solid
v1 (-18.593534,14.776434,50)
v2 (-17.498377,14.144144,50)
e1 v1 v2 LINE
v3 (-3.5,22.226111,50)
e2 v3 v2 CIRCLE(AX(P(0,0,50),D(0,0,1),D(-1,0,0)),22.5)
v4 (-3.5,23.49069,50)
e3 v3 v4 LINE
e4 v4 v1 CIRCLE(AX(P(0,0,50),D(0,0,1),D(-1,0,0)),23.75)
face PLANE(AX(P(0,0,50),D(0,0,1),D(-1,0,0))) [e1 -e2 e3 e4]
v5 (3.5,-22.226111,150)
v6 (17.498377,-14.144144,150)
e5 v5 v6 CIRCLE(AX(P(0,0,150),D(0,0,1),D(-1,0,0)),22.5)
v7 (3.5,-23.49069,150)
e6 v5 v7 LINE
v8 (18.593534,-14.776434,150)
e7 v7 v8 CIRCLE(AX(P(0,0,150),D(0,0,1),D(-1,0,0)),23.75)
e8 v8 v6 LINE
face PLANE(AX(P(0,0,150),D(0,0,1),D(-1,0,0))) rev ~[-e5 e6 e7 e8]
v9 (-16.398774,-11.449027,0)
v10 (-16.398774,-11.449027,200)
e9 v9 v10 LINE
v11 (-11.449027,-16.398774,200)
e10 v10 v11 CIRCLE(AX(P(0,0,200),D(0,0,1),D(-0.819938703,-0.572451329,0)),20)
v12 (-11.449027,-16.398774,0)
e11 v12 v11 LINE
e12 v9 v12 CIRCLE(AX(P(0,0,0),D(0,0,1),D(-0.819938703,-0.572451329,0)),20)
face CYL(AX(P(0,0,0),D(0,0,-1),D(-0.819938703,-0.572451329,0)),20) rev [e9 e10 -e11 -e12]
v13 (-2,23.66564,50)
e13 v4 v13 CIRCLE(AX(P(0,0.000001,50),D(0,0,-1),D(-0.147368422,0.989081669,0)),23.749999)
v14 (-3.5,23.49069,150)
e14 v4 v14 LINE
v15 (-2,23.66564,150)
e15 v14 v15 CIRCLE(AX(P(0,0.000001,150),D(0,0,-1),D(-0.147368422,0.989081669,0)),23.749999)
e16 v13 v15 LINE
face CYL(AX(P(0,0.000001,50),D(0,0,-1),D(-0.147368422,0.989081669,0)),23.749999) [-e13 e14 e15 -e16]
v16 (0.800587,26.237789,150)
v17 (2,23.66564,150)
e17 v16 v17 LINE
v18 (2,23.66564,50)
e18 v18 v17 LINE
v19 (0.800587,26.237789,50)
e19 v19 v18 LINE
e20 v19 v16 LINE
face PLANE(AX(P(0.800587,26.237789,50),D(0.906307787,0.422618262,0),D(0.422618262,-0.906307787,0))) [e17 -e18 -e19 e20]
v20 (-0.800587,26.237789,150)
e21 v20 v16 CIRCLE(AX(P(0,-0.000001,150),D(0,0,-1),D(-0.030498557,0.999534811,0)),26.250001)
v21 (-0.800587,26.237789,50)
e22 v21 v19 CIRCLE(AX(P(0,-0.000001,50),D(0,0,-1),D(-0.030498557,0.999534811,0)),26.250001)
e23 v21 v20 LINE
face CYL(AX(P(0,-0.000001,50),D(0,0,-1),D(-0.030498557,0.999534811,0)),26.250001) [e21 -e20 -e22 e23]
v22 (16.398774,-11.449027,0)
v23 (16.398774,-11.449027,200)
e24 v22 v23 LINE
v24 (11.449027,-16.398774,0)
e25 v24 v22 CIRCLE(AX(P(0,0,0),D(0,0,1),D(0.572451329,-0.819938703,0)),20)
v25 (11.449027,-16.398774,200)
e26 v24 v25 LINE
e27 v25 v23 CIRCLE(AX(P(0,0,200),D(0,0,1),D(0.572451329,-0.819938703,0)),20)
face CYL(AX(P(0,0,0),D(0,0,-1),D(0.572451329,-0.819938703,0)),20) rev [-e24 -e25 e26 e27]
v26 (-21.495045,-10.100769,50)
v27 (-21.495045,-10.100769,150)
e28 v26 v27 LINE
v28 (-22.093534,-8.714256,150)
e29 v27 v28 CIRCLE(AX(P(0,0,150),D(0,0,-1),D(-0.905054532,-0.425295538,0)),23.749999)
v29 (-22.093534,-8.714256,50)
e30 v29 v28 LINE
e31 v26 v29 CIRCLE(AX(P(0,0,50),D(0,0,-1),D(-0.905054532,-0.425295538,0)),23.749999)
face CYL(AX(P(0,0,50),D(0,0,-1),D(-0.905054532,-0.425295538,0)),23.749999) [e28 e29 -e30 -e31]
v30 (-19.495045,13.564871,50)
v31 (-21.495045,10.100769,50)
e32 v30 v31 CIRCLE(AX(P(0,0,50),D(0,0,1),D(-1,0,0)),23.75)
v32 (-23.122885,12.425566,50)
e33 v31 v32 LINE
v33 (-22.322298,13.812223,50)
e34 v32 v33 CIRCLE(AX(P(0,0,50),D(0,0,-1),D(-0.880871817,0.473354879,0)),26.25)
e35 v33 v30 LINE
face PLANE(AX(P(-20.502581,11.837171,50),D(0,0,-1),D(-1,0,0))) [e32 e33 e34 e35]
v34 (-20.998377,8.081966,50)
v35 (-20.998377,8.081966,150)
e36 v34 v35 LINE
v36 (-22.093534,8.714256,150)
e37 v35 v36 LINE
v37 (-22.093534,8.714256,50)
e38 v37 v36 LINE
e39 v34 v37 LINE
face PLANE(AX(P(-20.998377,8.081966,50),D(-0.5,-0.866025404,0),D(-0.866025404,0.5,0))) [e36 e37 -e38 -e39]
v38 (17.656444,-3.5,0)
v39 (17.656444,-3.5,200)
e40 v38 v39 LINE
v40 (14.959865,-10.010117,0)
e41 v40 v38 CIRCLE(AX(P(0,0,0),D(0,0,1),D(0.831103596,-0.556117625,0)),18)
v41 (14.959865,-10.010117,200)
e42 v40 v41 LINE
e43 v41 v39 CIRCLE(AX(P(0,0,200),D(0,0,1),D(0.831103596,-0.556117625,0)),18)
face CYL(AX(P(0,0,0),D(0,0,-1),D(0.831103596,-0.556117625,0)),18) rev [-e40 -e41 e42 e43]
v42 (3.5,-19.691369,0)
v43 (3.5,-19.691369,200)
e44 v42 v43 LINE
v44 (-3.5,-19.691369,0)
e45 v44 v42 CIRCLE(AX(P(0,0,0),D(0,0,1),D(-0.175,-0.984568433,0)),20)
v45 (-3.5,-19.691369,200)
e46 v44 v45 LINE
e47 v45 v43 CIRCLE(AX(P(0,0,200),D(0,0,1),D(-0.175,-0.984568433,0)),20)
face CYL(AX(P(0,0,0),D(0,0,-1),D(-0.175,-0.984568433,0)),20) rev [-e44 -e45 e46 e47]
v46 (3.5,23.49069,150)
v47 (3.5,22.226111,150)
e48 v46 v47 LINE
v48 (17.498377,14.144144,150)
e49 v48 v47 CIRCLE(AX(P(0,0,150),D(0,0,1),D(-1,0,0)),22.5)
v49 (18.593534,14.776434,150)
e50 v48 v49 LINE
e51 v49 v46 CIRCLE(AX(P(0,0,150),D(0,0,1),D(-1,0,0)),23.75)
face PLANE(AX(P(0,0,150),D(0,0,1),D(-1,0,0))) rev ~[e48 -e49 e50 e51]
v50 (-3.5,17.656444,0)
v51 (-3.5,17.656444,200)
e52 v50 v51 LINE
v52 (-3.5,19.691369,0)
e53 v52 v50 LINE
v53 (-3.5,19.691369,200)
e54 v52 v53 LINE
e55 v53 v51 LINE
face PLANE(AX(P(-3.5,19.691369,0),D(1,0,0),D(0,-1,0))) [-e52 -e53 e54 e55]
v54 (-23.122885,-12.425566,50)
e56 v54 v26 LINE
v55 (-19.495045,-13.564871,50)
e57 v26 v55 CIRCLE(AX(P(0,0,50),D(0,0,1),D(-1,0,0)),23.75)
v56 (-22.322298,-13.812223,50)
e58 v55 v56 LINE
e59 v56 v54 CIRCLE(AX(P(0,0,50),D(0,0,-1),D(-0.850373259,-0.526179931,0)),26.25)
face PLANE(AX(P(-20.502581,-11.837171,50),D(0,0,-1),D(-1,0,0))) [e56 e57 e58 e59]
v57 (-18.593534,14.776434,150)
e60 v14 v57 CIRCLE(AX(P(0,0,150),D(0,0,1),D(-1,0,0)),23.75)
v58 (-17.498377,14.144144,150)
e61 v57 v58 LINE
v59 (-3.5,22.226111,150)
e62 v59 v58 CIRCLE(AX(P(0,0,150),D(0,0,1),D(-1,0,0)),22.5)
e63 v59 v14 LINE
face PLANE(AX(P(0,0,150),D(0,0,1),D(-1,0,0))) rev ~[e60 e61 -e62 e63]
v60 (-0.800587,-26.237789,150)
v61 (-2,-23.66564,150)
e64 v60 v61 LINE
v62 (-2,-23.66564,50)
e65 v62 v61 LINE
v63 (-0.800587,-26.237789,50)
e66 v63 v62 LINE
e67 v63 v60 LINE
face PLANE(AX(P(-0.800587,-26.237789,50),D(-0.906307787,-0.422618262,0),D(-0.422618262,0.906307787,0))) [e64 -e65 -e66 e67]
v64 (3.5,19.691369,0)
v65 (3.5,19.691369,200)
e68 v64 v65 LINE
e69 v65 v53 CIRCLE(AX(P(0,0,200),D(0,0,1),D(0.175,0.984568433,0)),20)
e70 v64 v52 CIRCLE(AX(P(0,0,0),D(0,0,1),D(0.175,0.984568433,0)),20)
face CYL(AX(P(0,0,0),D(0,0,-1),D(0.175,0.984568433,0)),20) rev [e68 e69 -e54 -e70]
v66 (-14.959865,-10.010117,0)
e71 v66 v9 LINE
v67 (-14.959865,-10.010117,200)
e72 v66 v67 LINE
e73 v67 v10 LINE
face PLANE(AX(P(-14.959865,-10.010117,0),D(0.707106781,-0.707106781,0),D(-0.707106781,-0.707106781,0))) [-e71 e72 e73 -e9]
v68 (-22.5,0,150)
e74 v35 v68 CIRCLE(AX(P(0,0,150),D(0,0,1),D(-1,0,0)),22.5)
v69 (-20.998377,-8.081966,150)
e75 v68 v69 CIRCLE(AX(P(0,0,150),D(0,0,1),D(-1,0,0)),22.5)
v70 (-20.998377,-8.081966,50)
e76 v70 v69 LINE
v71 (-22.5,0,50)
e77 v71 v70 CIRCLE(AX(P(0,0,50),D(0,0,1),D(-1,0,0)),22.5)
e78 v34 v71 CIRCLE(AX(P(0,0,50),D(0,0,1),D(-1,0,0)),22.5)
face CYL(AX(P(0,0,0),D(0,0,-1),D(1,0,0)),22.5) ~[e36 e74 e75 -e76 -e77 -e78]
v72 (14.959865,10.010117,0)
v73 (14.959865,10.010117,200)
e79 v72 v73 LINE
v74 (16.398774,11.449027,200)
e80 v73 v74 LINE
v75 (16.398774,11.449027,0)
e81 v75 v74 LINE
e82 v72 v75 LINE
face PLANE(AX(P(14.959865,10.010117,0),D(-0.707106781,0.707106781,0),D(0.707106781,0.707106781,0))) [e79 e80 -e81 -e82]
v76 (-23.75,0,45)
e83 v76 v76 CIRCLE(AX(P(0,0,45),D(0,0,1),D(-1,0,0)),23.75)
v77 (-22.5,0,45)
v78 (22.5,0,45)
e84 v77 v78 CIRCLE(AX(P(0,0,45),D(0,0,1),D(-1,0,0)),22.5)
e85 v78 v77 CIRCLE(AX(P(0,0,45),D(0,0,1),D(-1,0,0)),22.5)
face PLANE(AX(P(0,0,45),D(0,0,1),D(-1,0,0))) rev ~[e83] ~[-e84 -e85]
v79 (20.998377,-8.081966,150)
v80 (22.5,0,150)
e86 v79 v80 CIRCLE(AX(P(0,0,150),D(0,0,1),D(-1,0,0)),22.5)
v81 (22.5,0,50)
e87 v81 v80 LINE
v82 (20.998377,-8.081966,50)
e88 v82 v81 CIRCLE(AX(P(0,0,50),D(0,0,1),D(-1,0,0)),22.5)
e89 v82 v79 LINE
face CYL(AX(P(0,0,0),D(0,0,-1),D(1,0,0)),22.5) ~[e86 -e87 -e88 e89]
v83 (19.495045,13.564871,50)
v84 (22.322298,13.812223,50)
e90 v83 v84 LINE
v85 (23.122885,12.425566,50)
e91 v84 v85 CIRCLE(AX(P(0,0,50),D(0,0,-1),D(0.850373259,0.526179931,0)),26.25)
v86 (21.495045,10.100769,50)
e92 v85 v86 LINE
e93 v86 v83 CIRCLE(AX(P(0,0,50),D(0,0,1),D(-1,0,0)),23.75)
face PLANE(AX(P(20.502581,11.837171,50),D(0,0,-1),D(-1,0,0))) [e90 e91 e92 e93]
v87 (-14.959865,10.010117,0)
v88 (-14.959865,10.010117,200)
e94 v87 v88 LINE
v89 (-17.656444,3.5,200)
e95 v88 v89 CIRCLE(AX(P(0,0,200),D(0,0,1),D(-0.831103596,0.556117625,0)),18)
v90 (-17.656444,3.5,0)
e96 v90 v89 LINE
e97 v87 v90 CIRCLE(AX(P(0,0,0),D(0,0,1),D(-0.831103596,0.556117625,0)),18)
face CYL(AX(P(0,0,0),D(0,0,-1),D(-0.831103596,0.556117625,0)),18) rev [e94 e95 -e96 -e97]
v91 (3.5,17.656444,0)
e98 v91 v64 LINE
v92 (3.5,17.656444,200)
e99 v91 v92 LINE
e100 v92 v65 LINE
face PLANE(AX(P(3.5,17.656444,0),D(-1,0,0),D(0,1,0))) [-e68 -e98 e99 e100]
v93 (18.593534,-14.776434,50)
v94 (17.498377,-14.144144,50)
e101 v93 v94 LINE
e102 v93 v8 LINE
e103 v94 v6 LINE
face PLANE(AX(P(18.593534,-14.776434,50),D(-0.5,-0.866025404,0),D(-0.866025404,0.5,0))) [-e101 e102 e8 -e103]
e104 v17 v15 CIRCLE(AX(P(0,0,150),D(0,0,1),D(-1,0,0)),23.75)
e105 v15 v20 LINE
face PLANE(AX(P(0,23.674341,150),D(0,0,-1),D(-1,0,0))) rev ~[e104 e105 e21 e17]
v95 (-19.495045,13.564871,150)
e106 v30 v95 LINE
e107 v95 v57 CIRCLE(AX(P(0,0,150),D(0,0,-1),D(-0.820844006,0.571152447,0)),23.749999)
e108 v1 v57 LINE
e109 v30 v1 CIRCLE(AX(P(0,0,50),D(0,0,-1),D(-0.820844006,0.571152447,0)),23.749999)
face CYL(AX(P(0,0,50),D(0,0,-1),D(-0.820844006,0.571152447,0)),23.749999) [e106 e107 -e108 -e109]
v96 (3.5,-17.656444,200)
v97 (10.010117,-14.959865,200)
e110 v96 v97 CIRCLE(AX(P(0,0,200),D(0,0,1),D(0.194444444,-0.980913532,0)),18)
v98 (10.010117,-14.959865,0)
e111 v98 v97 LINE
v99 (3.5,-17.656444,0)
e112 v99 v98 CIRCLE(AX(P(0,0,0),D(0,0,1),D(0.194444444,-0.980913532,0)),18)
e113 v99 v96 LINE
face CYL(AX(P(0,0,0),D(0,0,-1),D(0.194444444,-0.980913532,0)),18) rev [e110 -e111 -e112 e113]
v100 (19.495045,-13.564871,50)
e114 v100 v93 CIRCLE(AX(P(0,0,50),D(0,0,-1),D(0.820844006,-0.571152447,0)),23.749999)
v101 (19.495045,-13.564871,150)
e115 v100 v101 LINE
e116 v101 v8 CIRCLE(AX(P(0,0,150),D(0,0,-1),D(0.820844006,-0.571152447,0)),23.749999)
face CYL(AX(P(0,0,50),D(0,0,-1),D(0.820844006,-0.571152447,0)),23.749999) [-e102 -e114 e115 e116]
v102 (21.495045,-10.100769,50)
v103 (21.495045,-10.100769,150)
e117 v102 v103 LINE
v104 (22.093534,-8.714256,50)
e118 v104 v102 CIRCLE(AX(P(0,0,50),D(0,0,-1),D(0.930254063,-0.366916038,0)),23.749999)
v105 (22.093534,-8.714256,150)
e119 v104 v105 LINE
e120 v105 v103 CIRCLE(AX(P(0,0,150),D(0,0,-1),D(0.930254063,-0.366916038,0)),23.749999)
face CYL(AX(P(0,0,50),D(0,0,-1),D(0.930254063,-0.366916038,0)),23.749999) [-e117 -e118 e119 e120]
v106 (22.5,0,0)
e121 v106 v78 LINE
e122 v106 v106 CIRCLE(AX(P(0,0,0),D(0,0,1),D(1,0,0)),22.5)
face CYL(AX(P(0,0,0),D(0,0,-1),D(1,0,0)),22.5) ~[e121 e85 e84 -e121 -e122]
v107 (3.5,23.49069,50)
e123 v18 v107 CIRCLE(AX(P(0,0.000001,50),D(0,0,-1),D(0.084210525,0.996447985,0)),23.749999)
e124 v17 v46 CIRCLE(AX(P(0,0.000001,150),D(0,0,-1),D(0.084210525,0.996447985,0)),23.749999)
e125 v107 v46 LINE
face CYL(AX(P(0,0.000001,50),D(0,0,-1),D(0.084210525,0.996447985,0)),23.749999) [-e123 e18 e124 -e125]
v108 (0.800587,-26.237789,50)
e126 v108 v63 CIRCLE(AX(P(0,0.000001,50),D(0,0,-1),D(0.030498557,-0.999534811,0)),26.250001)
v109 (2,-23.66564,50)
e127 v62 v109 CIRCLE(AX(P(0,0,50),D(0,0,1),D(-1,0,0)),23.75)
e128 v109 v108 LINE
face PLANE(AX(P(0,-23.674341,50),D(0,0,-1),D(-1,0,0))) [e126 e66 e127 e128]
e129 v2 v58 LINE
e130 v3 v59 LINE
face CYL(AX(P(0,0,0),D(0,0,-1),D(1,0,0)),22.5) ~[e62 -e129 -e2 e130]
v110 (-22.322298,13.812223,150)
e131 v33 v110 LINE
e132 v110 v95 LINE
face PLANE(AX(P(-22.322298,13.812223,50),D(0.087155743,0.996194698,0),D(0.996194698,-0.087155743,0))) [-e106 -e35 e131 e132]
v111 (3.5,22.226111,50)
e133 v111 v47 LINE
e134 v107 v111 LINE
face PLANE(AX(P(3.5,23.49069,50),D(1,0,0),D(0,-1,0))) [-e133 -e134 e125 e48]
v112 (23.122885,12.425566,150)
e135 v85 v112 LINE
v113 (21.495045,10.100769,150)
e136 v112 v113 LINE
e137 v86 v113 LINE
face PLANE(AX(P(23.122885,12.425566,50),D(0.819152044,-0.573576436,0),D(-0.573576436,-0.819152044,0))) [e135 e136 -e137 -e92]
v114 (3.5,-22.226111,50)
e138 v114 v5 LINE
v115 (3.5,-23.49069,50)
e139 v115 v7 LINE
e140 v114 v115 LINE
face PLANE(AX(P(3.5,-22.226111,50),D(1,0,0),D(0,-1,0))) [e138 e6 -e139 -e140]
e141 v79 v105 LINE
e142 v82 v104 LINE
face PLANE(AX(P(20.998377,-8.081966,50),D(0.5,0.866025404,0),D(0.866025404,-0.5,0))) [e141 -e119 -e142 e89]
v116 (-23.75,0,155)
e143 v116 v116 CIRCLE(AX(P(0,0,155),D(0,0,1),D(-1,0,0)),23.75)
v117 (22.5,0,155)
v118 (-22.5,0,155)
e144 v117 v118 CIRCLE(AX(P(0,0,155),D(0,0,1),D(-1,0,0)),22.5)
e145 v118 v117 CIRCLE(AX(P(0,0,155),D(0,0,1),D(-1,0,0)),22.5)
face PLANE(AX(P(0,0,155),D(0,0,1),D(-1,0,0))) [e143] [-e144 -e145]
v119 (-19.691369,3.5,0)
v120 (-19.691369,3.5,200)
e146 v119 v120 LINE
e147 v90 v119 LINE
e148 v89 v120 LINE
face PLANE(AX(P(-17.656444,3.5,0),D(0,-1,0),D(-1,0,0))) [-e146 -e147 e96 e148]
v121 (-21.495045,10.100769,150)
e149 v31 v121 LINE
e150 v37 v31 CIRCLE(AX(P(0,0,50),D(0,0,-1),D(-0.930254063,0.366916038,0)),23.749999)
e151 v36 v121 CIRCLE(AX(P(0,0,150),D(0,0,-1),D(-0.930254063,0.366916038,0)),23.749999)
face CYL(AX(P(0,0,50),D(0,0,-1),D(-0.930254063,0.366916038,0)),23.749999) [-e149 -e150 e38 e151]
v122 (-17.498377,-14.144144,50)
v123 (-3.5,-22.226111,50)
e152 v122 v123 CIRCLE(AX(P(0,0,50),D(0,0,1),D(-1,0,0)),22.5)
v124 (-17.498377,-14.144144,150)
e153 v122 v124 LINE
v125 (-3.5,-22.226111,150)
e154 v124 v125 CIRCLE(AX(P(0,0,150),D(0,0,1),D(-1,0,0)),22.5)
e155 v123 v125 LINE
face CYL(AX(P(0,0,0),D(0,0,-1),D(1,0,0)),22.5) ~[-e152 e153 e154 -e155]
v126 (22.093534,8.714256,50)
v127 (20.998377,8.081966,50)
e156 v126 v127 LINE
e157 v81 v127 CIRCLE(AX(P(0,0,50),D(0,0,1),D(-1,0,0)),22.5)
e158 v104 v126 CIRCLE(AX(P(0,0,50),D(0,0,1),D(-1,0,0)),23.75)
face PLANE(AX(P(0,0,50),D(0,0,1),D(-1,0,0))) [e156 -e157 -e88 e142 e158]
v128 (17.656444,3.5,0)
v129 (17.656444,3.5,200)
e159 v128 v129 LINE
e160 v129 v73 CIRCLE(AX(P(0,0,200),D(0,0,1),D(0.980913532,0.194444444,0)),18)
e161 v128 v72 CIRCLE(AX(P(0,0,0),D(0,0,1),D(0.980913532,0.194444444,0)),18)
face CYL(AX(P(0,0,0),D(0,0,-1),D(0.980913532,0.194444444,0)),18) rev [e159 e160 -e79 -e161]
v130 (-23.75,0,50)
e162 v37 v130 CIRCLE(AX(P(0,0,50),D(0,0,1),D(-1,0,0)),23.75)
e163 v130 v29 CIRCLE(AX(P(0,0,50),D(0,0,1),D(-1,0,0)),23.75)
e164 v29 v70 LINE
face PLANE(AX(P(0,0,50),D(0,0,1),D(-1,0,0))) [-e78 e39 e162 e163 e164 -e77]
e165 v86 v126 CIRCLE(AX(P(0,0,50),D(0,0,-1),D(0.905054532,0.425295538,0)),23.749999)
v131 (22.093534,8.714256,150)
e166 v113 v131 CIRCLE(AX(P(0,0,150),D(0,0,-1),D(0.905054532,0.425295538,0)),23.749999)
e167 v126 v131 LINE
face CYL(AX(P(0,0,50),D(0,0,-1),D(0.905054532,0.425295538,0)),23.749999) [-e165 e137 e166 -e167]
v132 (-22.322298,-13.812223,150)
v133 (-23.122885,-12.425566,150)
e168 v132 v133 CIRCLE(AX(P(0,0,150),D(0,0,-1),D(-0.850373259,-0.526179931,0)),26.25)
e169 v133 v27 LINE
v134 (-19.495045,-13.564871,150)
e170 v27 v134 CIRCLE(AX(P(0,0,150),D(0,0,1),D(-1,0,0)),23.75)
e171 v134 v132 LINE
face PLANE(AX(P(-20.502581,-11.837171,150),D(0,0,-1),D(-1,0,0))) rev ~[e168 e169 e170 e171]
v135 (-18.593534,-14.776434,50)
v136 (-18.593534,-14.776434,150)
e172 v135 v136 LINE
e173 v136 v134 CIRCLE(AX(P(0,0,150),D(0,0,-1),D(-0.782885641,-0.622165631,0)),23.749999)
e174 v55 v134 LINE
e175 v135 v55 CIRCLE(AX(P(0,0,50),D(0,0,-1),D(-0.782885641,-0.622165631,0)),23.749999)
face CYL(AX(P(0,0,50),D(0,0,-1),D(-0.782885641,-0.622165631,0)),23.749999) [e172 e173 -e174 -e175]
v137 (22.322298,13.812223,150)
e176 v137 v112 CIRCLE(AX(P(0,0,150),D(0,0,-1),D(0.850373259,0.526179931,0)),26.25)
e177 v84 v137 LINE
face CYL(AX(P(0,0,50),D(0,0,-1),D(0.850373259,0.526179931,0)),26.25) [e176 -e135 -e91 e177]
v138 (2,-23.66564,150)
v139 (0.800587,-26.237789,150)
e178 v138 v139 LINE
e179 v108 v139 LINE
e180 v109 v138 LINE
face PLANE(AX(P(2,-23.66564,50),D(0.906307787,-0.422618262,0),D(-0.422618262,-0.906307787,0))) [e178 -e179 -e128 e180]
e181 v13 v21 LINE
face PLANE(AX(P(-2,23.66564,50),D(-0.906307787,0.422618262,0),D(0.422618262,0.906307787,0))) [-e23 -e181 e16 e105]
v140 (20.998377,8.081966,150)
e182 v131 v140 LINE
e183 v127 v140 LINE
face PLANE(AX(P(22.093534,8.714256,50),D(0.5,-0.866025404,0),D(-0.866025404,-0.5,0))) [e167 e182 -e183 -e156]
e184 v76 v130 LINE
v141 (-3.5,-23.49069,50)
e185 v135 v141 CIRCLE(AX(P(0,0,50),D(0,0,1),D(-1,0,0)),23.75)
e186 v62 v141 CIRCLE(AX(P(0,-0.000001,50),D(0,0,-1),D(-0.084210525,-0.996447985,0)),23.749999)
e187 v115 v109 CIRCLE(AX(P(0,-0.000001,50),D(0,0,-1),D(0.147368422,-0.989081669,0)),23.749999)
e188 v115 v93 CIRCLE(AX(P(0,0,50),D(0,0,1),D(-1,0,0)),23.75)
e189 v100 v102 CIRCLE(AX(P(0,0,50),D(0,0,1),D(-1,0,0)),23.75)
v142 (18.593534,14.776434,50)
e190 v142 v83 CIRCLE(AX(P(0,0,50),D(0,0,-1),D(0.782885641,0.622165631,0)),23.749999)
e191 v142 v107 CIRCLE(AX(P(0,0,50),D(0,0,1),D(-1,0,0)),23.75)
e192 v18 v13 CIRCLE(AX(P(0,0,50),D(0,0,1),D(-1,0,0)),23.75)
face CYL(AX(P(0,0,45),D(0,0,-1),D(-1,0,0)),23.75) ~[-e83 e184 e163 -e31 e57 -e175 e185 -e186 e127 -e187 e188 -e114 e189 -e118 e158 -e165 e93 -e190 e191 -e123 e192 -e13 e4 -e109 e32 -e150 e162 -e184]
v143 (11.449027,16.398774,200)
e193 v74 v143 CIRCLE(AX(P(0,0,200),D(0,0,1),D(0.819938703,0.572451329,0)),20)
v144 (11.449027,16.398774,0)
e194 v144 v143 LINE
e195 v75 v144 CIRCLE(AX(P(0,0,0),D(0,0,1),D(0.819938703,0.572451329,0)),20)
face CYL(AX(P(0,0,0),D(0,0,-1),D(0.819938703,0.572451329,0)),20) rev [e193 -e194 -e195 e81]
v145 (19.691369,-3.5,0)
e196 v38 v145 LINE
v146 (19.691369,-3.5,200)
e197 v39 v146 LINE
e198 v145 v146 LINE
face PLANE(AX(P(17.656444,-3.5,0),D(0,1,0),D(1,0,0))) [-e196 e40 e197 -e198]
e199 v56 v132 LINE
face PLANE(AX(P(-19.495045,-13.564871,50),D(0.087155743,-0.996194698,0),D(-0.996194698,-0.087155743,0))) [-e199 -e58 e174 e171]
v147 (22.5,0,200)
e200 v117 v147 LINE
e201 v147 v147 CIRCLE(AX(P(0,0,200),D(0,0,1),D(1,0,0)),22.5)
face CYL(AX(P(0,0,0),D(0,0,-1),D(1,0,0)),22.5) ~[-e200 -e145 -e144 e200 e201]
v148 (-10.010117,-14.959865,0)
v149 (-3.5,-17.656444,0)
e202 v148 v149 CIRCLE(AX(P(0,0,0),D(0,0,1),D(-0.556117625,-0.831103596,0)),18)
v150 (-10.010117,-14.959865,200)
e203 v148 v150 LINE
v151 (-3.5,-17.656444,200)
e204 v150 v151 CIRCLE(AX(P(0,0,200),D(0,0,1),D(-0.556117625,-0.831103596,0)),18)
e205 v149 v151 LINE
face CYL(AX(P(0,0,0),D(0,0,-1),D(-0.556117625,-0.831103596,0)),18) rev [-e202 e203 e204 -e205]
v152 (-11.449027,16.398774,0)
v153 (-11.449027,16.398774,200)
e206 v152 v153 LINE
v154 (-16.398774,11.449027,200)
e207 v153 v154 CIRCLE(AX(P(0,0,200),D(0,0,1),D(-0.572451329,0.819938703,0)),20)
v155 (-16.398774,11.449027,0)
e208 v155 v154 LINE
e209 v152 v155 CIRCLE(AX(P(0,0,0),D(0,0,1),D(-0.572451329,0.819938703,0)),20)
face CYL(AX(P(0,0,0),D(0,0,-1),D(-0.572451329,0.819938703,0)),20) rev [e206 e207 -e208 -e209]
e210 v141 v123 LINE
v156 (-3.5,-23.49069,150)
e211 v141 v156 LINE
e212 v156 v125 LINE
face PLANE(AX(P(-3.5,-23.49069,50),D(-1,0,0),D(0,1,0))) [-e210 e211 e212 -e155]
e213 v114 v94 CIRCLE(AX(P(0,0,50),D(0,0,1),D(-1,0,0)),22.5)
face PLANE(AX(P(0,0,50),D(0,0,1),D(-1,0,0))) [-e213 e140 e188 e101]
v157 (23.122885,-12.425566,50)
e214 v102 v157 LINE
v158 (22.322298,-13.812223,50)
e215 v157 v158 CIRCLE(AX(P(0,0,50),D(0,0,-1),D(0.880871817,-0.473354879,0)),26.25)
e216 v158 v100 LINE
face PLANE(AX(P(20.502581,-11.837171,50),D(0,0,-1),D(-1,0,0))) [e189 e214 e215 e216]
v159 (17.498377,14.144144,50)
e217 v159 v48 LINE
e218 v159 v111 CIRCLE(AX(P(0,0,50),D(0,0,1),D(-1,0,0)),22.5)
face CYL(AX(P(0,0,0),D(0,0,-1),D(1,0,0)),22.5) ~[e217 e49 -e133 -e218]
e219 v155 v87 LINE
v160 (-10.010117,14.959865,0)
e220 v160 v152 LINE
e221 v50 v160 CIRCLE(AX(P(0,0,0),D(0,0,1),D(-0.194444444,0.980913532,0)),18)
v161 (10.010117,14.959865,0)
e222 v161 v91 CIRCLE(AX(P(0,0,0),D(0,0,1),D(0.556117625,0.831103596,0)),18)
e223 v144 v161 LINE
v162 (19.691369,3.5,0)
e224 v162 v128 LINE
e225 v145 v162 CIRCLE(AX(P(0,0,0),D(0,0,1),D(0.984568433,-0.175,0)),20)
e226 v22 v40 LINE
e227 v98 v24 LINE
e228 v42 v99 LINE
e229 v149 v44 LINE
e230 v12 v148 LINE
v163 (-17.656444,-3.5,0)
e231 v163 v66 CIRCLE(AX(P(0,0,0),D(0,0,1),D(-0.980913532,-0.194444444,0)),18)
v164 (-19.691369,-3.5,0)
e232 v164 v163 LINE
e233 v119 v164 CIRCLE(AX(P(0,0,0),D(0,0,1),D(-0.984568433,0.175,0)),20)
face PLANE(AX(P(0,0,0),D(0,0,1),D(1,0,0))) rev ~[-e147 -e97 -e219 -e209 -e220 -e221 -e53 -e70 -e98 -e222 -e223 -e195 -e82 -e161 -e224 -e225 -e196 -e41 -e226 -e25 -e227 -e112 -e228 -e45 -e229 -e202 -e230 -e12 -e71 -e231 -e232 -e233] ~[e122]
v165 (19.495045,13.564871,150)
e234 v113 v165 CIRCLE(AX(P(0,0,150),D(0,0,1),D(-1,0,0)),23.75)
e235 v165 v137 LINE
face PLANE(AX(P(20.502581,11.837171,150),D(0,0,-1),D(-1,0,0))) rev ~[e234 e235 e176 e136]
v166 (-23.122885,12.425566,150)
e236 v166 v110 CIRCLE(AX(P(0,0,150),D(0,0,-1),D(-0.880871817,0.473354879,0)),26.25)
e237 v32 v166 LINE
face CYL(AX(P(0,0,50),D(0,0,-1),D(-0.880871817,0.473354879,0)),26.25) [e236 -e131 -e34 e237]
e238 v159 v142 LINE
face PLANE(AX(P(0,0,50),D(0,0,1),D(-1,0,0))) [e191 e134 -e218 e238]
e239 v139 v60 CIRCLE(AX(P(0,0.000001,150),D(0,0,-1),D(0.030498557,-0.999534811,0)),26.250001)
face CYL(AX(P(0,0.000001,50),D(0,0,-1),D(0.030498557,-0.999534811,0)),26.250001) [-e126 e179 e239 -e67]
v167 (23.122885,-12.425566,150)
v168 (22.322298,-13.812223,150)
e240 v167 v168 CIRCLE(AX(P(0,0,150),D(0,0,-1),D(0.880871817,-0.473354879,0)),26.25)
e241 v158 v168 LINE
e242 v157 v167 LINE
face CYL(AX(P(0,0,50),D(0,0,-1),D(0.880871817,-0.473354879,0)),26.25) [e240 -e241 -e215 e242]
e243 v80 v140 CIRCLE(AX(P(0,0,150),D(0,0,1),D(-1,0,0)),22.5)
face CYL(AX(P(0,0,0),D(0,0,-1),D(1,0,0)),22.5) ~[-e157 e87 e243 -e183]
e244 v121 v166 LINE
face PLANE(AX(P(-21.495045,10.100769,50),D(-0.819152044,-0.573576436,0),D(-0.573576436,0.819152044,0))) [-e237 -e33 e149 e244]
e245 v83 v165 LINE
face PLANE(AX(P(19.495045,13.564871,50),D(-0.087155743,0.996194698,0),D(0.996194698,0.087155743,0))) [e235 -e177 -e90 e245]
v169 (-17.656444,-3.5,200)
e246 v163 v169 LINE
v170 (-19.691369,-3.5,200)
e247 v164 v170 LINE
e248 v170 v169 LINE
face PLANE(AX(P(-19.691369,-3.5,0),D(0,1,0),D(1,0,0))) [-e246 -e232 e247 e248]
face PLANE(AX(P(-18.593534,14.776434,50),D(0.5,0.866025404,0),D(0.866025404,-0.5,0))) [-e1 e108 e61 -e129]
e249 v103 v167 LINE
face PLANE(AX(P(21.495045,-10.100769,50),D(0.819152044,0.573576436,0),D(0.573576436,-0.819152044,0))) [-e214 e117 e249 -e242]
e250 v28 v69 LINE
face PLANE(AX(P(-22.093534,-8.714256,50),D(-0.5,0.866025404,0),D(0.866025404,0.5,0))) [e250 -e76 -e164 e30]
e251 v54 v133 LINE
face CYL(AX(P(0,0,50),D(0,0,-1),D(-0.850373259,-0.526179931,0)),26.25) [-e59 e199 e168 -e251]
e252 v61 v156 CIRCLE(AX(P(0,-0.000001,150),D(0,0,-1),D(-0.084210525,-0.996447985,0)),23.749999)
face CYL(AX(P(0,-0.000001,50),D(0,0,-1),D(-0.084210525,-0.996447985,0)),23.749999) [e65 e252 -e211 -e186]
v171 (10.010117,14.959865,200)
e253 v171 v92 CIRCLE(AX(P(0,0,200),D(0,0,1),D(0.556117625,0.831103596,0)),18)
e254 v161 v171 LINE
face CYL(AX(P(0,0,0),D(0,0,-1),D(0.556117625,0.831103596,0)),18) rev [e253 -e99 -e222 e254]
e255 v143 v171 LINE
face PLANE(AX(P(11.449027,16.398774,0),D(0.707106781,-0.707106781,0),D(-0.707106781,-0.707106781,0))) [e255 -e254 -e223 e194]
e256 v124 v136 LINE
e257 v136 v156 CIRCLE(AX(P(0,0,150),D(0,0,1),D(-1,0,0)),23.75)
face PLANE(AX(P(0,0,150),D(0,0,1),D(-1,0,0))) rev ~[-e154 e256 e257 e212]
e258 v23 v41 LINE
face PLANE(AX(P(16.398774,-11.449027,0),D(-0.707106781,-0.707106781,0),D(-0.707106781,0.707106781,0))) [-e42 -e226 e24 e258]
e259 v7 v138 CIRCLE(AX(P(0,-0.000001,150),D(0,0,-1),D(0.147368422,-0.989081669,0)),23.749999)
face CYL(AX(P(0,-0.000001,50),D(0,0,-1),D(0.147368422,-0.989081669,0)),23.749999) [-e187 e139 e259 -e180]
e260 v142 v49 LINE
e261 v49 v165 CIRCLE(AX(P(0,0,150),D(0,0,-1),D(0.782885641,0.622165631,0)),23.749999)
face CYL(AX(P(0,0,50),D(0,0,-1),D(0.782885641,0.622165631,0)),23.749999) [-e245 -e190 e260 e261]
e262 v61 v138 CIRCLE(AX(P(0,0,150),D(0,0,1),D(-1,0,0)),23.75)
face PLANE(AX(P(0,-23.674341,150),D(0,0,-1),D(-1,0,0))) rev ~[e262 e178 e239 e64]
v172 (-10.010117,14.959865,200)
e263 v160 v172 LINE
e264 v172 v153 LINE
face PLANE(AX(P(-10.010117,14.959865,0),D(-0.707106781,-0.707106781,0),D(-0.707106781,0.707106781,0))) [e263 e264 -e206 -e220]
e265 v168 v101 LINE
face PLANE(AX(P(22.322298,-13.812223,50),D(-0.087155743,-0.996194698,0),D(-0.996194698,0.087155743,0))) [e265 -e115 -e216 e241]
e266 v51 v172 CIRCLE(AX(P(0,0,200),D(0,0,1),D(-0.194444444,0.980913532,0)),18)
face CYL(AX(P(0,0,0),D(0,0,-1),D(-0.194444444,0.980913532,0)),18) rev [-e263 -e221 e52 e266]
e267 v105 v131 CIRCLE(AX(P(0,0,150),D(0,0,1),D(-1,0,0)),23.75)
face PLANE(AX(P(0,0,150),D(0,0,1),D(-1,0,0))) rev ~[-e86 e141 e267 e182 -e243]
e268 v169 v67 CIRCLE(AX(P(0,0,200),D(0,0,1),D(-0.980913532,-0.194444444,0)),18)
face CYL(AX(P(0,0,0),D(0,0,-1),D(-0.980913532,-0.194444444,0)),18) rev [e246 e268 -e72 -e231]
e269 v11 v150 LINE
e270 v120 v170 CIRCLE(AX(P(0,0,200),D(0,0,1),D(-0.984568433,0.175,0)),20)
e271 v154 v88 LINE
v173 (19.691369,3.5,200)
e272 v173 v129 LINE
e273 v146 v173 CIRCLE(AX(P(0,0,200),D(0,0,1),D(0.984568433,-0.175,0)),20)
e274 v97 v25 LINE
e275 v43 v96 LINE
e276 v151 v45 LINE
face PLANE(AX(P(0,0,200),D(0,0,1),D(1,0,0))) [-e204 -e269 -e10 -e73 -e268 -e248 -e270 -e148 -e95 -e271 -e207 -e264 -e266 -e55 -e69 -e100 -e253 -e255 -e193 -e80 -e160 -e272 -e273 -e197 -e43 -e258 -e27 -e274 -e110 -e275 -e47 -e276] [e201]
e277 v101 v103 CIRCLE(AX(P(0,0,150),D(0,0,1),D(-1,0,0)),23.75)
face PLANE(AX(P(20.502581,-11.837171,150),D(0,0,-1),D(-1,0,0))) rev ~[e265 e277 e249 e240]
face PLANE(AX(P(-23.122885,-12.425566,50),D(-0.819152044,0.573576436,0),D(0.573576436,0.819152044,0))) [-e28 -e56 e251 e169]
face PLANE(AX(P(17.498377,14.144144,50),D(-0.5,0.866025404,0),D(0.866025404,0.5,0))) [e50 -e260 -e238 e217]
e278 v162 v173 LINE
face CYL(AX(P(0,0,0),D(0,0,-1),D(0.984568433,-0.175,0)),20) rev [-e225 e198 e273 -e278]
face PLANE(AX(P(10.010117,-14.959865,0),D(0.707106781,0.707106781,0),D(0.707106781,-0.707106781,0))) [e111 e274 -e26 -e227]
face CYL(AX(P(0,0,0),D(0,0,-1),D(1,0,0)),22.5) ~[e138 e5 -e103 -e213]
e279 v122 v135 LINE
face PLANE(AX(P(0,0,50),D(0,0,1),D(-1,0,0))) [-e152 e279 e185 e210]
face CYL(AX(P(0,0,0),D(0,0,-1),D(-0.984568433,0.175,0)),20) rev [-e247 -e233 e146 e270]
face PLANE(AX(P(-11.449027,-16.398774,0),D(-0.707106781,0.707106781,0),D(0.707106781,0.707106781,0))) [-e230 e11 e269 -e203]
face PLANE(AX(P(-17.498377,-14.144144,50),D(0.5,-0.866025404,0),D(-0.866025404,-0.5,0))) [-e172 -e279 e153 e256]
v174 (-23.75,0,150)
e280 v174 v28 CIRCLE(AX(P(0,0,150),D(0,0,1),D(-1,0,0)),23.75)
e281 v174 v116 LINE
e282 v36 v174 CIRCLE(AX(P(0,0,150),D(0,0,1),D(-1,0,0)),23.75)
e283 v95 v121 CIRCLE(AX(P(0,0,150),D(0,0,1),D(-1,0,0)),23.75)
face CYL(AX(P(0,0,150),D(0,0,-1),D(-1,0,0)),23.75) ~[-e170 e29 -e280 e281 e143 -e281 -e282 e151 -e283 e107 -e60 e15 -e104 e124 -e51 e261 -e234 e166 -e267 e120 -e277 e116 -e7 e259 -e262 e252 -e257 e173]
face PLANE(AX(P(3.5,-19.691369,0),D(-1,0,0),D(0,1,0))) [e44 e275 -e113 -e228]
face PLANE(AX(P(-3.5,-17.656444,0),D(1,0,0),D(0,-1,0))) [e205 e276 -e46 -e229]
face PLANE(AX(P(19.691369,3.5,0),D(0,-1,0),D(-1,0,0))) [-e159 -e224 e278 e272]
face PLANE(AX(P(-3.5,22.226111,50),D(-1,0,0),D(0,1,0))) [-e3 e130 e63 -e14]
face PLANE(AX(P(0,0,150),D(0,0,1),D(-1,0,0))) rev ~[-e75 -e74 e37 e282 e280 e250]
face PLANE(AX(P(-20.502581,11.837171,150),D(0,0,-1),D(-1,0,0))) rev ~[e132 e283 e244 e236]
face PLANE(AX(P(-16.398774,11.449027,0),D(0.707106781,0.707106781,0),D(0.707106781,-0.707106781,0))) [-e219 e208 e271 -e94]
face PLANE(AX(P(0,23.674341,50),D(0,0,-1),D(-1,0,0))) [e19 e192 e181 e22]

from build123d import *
from build123d.topology import SkipClean

# Parameters (mm, degrees)
SKETCH1_R           = 22.5
BOSS_EXTRUDE1_DEPTH = 200
BOSS_EXTRUDE2_START = 50
BOSS_EXTRUDE2_DEPTH = 100
BOSS_EXTRUDE3_START = -50
SKETCH4_R           = 23.75
SKETCH4_R_2         = 22.5
BOSS_EXTRUDE3_DEPTH = 5
BOSS_EXTRUDE4_START = -155
SKETCH4_2_R         = 23.75
SKETCH4_2_R_2       = 22.5
BOSS_EXTRUDE4_DEPTH = 5


with BuildPart() as part:
    # Sketch1 → Boss-Extrude1 (new body)
    with BuildSketch(Plane.XY):
        Circle(SKETCH1_R)
        with BuildLine():
            Line((-3.5, 19.691368668), (-3.5, 17.656443583))
            ThreePointArc((-3.5, 17.656443583), (-6.888301783, 16.629831585), (-10.010117255, 14.959864723))
            Line((-10.010117255, 14.959864723), (-11.449026581, 16.39877405))
            ThreePointArc((-11.449026581, 16.39877405), (-14.142135624, 14.142135624), (-16.39877405, 11.449026581))
            Line((-16.39877405, 11.449026581), (-14.959864723, 10.010117255))
            ThreePointArc((-14.959864723, 10.010117255), (-16.629831585, 6.888301783), (-17.656443583, 3.5))
            Line((-17.656443583, 3.5), (-19.691368668, 3.5))
            ThreePointArc((-19.691368668, 3.5), (-20, 0), (-19.691368668, -3.5))
            Line((-19.691368668, -3.5), (-17.656443583, -3.5))
            ThreePointArc((-17.656443583, -3.5), (-16.629831585, -6.888301783), (-14.959864723, -10.010117255))
            Line((-14.959864723, -10.010117255), (-16.39877405, -11.449026581))
            ThreePointArc((-16.39877405, -11.449026581), (-14.142135624, -14.142135624), (-11.449026581, -16.39877405))
            Line((-11.449026581, -16.39877405), (-10.010117255, -14.959864723))
            ThreePointArc((-10.010117255, -14.959864723), (-6.888301783, -16.629831585), (-3.5, -17.656443583))
            Line((-3.5, -17.656443583), (-3.5, -19.691368668))
            ThreePointArc((-3.5, -19.691368668), (0, -20), (3.5, -19.691368668))
            Line((3.5, -19.691368668), (3.5, -17.656443583))
            ThreePointArc((3.5, -17.656443583), (6.888301783, -16.629831585), (10.010117255, -14.959864723))
            Line((10.010117255, -14.959864723), (11.449026581, -16.39877405))
            ThreePointArc((11.449026581, -16.39877405), (14.142135624, -14.142135624), (16.39877405, -11.449026581))
            Line((16.39877405, -11.449026581), (14.959864723, -10.010117255))
            ThreePointArc((14.959864723, -10.010117255), (16.629831585, -6.888301783), (17.656443583, -3.5))
            Line((17.656443583, -3.5), (19.691368668, -3.5))
            ThreePointArc((19.691368668, -3.5), (20, 0), (19.691368668, 3.5))
            Line((19.691368668, 3.5), (17.656443583, 3.5))
            ThreePointArc((17.656443583, 3.5), (16.629831585, 6.888301783), (14.959864723, 10.010117255))
            Line((14.959864723, 10.010117255), (16.39877405, 11.449026581))
            ThreePointArc((16.39877405, 11.449026581), (14.142135624, 14.142135624), (11.449026581, 16.39877405))
            Line((11.449026581, 16.39877405), (10.010117255, 14.959864723))
            ThreePointArc((10.010117255, 14.959864723), (6.888301783, 16.629831585), (3.5, 17.656443583))
            Line((3.5, 17.656443583), (3.5, 19.691368668))
            ThreePointArc((3.5, 19.691368668), (0, 20), (-3.5, 19.691368668))
        make_face(mode=Mode.SUBTRACT)
    extrude(amount=BOSS_EXTRUDE1_DEPTH)

    # Sketch3 → Boss-Extrude2 (add)
    with BuildSketch(Plane.XY.offset(BOSS_EXTRUDE2_START)):
        with BuildLine():
            Line((-2, 23.665639649), (-0.800587161, 26.237788783))
            ThreePointArc((-0.800587161, 26.237788783), (0, 26.25), (0.800587161, 26.237788783))
            Line((0.800587161, 26.237788783), (2, 23.665639649))
            ThreePointArc((2, 23.665639649), (2.751390898, 23.590090041), (3.5, 23.490689645))
            Line((3.5, 23.490689645), (3.5, 22.226110771))
            ThreePointArc((3.5, 22.226110771), (0, 22.5), (-3.5, 22.226110771))
            Line((-3.5, 22.226110771), (-3.5, 23.490689645))
            ThreePointArc((-3.5, 23.490689645), (-2.751390898, 23.590090041), (-2, 23.665639649))
        make_face()
        with BuildLine():
            Line((17.498376555, 14.144144299), (18.593533985, 14.776433736))
            ThreePointArc((18.593533985, 14.776433736), (19.053921804, 14.177819434), (19.495045133, 13.564870632))
            Line((19.495045133, 13.564870632), (22.322298044, 13.812223211))
            ThreePointArc((22.322298044, 13.812223211), (22.733166849, 13.125), (23.122885205, 12.425565572))
            Line((23.122885205, 12.425565572), (21.495045133, 10.100769017))
            ThreePointArc((21.495045133, 10.100769017), (21.805312702, 9.412270607), (22.093533985, 8.714255909))
            Line((22.093533985, 8.714255909), (20.998376555, 8.081966472))
            ThreePointArc((20.998376555, 8.081966472), (19.485571585, 11.25), (17.498376555, 14.144144299))
        make_face()
        with BuildLine():
            Line((20.998376555, -8.081966472), (22.093533985, -8.714255909))
            ThreePointArc((22.093533985, -8.714255909), (21.805312702, -9.412270607), (21.495045133, -10.100769017))
            Line((21.495045133, -10.100769017), (23.122885205, -12.425565572))
            ThreePointArc((23.122885205, -12.425565572), (22.733166849, -13.125), (22.322298044, -13.812223211))
            Line((22.322298044, -13.812223211), (19.495045133, -13.564870632))
            ThreePointArc((19.495045133, -13.564870632), (19.053921804, -14.177819434), (18.593533985, -14.776433736))
            Line((18.593533985, -14.776433736), (17.498376555, -14.144144299))
            ThreePointArc((17.498376555, -14.144144299), (19.485571585, -11.25), (20.998376555, -8.081966472))
        make_face()
        with BuildLine():
            Line((3.5, -22.226110771), (3.5, -23.490689645))
            ThreePointArc((3.5, -23.490689645), (2.751390898, -23.590090041), (2, -23.665639649))
            Line((2, -23.665639649), (0.800587161, -26.237788783))
            ThreePointArc((0.800587161, -26.237788783), (0, -26.25), (-0.800587161, -26.237788783))
            Line((-0.800587161, -26.237788783), (-2, -23.665639649))
            ThreePointArc((-2, -23.665639649), (-2.751390898, -23.590090041), (-3.5, -23.490689645))
            Line((-3.5, -23.490689645), (-3.5, -22.226110771))
            ThreePointArc((-3.5, -22.226110771), (0, -22.5), (3.5, -22.226110771))
        make_face()
        with BuildLine():
            Line((-17.498376555, -14.144144299), (-18.593533985, -14.776433736))
            ThreePointArc((-18.593533985, -14.776433736), (-19.053921804, -14.177819434), (-19.495045133, -13.564870632))
            Line((-19.495045133, -13.564870632), (-22.322298044, -13.812223211))
            ThreePointArc((-22.322298044, -13.812223211), (-22.733166849, -13.125), (-23.122885205, -12.425565572))
            Line((-23.122885205, -12.425565572), (-21.495045133, -10.100769017))
            ThreePointArc((-21.495045133, -10.100769017), (-21.805312702, -9.412270607), (-22.093533985, -8.714255909))
            Line((-22.093533985, -8.714255909), (-20.998376555, -8.081966472))
            ThreePointArc((-20.998376555, -8.081966472), (-19.485571585, -11.25), (-17.498376555, -14.144144299))
        make_face()
        with BuildLine():
            Line((-20.998376555, 8.081966472), (-22.093533985, 8.714255909))
            ThreePointArc((-22.093533985, 8.714255909), (-21.805312702, 9.412270607), (-21.495045133, 10.100769017))
            Line((-21.495045133, 10.100769017), (-23.122885205, 12.425565572))
            ThreePointArc((-23.122885205, 12.425565572), (-22.733166849, 13.125), (-22.322298044, 13.812223211))
            Line((-22.322298044, 13.812223211), (-19.495045133, 13.564870632))
            ThreePointArc((-19.495045133, 13.564870632), (-19.053921804, 14.177819434), (-18.593533985, 14.776433736))
            Line((-18.593533985, 14.776433736), (-17.498376555, 14.144144299))
            ThreePointArc((-17.498376555, 14.144144299), (-19.485571585, 11.25), (-20.998376555, 8.081966472))
        make_face()
    extrude(amount=BOSS_EXTRUDE2_DEPTH)

    # Sketch4 → Boss-Extrude3 (add)
    with SkipClean():  # the faces are left unmerged after this step: merging them gives an invalid solid
        with BuildSketch(Plane.XY.offset(200).offset(BOSS_EXTRUDE3_START)):
            with Locations(Location((0, 0, 0), (0, 0, 180))):
                Circle(SKETCH4_R)
            with Locations(Location((0, 0, 0), (0, 0, 180))):
                Circle(SKETCH4_R_2, mode=Mode.SUBTRACT)
        extrude(amount=BOSS_EXTRUDE3_DEPTH)

    # Sketch4<2> → Boss-Extrude4 (add)
    with SkipClean():  # the faces are left unmerged after this step: merging them gives an invalid solid
        with BuildSketch(Plane.XY.offset(200).offset(BOSS_EXTRUDE4_START)):
            with Locations(Location((0, 0, 0), (0, 0, 180))):
                Circle(SKETCH4_2_R)
            with Locations(Location((0, 0, 0), (0, 0, 180))):
                Circle(SKETCH4_2_R_2, mode=Mode.SUBTRACT)
        extrude(amount=BOSS_EXTRUDE4_DEPTH)


solid = part.part
